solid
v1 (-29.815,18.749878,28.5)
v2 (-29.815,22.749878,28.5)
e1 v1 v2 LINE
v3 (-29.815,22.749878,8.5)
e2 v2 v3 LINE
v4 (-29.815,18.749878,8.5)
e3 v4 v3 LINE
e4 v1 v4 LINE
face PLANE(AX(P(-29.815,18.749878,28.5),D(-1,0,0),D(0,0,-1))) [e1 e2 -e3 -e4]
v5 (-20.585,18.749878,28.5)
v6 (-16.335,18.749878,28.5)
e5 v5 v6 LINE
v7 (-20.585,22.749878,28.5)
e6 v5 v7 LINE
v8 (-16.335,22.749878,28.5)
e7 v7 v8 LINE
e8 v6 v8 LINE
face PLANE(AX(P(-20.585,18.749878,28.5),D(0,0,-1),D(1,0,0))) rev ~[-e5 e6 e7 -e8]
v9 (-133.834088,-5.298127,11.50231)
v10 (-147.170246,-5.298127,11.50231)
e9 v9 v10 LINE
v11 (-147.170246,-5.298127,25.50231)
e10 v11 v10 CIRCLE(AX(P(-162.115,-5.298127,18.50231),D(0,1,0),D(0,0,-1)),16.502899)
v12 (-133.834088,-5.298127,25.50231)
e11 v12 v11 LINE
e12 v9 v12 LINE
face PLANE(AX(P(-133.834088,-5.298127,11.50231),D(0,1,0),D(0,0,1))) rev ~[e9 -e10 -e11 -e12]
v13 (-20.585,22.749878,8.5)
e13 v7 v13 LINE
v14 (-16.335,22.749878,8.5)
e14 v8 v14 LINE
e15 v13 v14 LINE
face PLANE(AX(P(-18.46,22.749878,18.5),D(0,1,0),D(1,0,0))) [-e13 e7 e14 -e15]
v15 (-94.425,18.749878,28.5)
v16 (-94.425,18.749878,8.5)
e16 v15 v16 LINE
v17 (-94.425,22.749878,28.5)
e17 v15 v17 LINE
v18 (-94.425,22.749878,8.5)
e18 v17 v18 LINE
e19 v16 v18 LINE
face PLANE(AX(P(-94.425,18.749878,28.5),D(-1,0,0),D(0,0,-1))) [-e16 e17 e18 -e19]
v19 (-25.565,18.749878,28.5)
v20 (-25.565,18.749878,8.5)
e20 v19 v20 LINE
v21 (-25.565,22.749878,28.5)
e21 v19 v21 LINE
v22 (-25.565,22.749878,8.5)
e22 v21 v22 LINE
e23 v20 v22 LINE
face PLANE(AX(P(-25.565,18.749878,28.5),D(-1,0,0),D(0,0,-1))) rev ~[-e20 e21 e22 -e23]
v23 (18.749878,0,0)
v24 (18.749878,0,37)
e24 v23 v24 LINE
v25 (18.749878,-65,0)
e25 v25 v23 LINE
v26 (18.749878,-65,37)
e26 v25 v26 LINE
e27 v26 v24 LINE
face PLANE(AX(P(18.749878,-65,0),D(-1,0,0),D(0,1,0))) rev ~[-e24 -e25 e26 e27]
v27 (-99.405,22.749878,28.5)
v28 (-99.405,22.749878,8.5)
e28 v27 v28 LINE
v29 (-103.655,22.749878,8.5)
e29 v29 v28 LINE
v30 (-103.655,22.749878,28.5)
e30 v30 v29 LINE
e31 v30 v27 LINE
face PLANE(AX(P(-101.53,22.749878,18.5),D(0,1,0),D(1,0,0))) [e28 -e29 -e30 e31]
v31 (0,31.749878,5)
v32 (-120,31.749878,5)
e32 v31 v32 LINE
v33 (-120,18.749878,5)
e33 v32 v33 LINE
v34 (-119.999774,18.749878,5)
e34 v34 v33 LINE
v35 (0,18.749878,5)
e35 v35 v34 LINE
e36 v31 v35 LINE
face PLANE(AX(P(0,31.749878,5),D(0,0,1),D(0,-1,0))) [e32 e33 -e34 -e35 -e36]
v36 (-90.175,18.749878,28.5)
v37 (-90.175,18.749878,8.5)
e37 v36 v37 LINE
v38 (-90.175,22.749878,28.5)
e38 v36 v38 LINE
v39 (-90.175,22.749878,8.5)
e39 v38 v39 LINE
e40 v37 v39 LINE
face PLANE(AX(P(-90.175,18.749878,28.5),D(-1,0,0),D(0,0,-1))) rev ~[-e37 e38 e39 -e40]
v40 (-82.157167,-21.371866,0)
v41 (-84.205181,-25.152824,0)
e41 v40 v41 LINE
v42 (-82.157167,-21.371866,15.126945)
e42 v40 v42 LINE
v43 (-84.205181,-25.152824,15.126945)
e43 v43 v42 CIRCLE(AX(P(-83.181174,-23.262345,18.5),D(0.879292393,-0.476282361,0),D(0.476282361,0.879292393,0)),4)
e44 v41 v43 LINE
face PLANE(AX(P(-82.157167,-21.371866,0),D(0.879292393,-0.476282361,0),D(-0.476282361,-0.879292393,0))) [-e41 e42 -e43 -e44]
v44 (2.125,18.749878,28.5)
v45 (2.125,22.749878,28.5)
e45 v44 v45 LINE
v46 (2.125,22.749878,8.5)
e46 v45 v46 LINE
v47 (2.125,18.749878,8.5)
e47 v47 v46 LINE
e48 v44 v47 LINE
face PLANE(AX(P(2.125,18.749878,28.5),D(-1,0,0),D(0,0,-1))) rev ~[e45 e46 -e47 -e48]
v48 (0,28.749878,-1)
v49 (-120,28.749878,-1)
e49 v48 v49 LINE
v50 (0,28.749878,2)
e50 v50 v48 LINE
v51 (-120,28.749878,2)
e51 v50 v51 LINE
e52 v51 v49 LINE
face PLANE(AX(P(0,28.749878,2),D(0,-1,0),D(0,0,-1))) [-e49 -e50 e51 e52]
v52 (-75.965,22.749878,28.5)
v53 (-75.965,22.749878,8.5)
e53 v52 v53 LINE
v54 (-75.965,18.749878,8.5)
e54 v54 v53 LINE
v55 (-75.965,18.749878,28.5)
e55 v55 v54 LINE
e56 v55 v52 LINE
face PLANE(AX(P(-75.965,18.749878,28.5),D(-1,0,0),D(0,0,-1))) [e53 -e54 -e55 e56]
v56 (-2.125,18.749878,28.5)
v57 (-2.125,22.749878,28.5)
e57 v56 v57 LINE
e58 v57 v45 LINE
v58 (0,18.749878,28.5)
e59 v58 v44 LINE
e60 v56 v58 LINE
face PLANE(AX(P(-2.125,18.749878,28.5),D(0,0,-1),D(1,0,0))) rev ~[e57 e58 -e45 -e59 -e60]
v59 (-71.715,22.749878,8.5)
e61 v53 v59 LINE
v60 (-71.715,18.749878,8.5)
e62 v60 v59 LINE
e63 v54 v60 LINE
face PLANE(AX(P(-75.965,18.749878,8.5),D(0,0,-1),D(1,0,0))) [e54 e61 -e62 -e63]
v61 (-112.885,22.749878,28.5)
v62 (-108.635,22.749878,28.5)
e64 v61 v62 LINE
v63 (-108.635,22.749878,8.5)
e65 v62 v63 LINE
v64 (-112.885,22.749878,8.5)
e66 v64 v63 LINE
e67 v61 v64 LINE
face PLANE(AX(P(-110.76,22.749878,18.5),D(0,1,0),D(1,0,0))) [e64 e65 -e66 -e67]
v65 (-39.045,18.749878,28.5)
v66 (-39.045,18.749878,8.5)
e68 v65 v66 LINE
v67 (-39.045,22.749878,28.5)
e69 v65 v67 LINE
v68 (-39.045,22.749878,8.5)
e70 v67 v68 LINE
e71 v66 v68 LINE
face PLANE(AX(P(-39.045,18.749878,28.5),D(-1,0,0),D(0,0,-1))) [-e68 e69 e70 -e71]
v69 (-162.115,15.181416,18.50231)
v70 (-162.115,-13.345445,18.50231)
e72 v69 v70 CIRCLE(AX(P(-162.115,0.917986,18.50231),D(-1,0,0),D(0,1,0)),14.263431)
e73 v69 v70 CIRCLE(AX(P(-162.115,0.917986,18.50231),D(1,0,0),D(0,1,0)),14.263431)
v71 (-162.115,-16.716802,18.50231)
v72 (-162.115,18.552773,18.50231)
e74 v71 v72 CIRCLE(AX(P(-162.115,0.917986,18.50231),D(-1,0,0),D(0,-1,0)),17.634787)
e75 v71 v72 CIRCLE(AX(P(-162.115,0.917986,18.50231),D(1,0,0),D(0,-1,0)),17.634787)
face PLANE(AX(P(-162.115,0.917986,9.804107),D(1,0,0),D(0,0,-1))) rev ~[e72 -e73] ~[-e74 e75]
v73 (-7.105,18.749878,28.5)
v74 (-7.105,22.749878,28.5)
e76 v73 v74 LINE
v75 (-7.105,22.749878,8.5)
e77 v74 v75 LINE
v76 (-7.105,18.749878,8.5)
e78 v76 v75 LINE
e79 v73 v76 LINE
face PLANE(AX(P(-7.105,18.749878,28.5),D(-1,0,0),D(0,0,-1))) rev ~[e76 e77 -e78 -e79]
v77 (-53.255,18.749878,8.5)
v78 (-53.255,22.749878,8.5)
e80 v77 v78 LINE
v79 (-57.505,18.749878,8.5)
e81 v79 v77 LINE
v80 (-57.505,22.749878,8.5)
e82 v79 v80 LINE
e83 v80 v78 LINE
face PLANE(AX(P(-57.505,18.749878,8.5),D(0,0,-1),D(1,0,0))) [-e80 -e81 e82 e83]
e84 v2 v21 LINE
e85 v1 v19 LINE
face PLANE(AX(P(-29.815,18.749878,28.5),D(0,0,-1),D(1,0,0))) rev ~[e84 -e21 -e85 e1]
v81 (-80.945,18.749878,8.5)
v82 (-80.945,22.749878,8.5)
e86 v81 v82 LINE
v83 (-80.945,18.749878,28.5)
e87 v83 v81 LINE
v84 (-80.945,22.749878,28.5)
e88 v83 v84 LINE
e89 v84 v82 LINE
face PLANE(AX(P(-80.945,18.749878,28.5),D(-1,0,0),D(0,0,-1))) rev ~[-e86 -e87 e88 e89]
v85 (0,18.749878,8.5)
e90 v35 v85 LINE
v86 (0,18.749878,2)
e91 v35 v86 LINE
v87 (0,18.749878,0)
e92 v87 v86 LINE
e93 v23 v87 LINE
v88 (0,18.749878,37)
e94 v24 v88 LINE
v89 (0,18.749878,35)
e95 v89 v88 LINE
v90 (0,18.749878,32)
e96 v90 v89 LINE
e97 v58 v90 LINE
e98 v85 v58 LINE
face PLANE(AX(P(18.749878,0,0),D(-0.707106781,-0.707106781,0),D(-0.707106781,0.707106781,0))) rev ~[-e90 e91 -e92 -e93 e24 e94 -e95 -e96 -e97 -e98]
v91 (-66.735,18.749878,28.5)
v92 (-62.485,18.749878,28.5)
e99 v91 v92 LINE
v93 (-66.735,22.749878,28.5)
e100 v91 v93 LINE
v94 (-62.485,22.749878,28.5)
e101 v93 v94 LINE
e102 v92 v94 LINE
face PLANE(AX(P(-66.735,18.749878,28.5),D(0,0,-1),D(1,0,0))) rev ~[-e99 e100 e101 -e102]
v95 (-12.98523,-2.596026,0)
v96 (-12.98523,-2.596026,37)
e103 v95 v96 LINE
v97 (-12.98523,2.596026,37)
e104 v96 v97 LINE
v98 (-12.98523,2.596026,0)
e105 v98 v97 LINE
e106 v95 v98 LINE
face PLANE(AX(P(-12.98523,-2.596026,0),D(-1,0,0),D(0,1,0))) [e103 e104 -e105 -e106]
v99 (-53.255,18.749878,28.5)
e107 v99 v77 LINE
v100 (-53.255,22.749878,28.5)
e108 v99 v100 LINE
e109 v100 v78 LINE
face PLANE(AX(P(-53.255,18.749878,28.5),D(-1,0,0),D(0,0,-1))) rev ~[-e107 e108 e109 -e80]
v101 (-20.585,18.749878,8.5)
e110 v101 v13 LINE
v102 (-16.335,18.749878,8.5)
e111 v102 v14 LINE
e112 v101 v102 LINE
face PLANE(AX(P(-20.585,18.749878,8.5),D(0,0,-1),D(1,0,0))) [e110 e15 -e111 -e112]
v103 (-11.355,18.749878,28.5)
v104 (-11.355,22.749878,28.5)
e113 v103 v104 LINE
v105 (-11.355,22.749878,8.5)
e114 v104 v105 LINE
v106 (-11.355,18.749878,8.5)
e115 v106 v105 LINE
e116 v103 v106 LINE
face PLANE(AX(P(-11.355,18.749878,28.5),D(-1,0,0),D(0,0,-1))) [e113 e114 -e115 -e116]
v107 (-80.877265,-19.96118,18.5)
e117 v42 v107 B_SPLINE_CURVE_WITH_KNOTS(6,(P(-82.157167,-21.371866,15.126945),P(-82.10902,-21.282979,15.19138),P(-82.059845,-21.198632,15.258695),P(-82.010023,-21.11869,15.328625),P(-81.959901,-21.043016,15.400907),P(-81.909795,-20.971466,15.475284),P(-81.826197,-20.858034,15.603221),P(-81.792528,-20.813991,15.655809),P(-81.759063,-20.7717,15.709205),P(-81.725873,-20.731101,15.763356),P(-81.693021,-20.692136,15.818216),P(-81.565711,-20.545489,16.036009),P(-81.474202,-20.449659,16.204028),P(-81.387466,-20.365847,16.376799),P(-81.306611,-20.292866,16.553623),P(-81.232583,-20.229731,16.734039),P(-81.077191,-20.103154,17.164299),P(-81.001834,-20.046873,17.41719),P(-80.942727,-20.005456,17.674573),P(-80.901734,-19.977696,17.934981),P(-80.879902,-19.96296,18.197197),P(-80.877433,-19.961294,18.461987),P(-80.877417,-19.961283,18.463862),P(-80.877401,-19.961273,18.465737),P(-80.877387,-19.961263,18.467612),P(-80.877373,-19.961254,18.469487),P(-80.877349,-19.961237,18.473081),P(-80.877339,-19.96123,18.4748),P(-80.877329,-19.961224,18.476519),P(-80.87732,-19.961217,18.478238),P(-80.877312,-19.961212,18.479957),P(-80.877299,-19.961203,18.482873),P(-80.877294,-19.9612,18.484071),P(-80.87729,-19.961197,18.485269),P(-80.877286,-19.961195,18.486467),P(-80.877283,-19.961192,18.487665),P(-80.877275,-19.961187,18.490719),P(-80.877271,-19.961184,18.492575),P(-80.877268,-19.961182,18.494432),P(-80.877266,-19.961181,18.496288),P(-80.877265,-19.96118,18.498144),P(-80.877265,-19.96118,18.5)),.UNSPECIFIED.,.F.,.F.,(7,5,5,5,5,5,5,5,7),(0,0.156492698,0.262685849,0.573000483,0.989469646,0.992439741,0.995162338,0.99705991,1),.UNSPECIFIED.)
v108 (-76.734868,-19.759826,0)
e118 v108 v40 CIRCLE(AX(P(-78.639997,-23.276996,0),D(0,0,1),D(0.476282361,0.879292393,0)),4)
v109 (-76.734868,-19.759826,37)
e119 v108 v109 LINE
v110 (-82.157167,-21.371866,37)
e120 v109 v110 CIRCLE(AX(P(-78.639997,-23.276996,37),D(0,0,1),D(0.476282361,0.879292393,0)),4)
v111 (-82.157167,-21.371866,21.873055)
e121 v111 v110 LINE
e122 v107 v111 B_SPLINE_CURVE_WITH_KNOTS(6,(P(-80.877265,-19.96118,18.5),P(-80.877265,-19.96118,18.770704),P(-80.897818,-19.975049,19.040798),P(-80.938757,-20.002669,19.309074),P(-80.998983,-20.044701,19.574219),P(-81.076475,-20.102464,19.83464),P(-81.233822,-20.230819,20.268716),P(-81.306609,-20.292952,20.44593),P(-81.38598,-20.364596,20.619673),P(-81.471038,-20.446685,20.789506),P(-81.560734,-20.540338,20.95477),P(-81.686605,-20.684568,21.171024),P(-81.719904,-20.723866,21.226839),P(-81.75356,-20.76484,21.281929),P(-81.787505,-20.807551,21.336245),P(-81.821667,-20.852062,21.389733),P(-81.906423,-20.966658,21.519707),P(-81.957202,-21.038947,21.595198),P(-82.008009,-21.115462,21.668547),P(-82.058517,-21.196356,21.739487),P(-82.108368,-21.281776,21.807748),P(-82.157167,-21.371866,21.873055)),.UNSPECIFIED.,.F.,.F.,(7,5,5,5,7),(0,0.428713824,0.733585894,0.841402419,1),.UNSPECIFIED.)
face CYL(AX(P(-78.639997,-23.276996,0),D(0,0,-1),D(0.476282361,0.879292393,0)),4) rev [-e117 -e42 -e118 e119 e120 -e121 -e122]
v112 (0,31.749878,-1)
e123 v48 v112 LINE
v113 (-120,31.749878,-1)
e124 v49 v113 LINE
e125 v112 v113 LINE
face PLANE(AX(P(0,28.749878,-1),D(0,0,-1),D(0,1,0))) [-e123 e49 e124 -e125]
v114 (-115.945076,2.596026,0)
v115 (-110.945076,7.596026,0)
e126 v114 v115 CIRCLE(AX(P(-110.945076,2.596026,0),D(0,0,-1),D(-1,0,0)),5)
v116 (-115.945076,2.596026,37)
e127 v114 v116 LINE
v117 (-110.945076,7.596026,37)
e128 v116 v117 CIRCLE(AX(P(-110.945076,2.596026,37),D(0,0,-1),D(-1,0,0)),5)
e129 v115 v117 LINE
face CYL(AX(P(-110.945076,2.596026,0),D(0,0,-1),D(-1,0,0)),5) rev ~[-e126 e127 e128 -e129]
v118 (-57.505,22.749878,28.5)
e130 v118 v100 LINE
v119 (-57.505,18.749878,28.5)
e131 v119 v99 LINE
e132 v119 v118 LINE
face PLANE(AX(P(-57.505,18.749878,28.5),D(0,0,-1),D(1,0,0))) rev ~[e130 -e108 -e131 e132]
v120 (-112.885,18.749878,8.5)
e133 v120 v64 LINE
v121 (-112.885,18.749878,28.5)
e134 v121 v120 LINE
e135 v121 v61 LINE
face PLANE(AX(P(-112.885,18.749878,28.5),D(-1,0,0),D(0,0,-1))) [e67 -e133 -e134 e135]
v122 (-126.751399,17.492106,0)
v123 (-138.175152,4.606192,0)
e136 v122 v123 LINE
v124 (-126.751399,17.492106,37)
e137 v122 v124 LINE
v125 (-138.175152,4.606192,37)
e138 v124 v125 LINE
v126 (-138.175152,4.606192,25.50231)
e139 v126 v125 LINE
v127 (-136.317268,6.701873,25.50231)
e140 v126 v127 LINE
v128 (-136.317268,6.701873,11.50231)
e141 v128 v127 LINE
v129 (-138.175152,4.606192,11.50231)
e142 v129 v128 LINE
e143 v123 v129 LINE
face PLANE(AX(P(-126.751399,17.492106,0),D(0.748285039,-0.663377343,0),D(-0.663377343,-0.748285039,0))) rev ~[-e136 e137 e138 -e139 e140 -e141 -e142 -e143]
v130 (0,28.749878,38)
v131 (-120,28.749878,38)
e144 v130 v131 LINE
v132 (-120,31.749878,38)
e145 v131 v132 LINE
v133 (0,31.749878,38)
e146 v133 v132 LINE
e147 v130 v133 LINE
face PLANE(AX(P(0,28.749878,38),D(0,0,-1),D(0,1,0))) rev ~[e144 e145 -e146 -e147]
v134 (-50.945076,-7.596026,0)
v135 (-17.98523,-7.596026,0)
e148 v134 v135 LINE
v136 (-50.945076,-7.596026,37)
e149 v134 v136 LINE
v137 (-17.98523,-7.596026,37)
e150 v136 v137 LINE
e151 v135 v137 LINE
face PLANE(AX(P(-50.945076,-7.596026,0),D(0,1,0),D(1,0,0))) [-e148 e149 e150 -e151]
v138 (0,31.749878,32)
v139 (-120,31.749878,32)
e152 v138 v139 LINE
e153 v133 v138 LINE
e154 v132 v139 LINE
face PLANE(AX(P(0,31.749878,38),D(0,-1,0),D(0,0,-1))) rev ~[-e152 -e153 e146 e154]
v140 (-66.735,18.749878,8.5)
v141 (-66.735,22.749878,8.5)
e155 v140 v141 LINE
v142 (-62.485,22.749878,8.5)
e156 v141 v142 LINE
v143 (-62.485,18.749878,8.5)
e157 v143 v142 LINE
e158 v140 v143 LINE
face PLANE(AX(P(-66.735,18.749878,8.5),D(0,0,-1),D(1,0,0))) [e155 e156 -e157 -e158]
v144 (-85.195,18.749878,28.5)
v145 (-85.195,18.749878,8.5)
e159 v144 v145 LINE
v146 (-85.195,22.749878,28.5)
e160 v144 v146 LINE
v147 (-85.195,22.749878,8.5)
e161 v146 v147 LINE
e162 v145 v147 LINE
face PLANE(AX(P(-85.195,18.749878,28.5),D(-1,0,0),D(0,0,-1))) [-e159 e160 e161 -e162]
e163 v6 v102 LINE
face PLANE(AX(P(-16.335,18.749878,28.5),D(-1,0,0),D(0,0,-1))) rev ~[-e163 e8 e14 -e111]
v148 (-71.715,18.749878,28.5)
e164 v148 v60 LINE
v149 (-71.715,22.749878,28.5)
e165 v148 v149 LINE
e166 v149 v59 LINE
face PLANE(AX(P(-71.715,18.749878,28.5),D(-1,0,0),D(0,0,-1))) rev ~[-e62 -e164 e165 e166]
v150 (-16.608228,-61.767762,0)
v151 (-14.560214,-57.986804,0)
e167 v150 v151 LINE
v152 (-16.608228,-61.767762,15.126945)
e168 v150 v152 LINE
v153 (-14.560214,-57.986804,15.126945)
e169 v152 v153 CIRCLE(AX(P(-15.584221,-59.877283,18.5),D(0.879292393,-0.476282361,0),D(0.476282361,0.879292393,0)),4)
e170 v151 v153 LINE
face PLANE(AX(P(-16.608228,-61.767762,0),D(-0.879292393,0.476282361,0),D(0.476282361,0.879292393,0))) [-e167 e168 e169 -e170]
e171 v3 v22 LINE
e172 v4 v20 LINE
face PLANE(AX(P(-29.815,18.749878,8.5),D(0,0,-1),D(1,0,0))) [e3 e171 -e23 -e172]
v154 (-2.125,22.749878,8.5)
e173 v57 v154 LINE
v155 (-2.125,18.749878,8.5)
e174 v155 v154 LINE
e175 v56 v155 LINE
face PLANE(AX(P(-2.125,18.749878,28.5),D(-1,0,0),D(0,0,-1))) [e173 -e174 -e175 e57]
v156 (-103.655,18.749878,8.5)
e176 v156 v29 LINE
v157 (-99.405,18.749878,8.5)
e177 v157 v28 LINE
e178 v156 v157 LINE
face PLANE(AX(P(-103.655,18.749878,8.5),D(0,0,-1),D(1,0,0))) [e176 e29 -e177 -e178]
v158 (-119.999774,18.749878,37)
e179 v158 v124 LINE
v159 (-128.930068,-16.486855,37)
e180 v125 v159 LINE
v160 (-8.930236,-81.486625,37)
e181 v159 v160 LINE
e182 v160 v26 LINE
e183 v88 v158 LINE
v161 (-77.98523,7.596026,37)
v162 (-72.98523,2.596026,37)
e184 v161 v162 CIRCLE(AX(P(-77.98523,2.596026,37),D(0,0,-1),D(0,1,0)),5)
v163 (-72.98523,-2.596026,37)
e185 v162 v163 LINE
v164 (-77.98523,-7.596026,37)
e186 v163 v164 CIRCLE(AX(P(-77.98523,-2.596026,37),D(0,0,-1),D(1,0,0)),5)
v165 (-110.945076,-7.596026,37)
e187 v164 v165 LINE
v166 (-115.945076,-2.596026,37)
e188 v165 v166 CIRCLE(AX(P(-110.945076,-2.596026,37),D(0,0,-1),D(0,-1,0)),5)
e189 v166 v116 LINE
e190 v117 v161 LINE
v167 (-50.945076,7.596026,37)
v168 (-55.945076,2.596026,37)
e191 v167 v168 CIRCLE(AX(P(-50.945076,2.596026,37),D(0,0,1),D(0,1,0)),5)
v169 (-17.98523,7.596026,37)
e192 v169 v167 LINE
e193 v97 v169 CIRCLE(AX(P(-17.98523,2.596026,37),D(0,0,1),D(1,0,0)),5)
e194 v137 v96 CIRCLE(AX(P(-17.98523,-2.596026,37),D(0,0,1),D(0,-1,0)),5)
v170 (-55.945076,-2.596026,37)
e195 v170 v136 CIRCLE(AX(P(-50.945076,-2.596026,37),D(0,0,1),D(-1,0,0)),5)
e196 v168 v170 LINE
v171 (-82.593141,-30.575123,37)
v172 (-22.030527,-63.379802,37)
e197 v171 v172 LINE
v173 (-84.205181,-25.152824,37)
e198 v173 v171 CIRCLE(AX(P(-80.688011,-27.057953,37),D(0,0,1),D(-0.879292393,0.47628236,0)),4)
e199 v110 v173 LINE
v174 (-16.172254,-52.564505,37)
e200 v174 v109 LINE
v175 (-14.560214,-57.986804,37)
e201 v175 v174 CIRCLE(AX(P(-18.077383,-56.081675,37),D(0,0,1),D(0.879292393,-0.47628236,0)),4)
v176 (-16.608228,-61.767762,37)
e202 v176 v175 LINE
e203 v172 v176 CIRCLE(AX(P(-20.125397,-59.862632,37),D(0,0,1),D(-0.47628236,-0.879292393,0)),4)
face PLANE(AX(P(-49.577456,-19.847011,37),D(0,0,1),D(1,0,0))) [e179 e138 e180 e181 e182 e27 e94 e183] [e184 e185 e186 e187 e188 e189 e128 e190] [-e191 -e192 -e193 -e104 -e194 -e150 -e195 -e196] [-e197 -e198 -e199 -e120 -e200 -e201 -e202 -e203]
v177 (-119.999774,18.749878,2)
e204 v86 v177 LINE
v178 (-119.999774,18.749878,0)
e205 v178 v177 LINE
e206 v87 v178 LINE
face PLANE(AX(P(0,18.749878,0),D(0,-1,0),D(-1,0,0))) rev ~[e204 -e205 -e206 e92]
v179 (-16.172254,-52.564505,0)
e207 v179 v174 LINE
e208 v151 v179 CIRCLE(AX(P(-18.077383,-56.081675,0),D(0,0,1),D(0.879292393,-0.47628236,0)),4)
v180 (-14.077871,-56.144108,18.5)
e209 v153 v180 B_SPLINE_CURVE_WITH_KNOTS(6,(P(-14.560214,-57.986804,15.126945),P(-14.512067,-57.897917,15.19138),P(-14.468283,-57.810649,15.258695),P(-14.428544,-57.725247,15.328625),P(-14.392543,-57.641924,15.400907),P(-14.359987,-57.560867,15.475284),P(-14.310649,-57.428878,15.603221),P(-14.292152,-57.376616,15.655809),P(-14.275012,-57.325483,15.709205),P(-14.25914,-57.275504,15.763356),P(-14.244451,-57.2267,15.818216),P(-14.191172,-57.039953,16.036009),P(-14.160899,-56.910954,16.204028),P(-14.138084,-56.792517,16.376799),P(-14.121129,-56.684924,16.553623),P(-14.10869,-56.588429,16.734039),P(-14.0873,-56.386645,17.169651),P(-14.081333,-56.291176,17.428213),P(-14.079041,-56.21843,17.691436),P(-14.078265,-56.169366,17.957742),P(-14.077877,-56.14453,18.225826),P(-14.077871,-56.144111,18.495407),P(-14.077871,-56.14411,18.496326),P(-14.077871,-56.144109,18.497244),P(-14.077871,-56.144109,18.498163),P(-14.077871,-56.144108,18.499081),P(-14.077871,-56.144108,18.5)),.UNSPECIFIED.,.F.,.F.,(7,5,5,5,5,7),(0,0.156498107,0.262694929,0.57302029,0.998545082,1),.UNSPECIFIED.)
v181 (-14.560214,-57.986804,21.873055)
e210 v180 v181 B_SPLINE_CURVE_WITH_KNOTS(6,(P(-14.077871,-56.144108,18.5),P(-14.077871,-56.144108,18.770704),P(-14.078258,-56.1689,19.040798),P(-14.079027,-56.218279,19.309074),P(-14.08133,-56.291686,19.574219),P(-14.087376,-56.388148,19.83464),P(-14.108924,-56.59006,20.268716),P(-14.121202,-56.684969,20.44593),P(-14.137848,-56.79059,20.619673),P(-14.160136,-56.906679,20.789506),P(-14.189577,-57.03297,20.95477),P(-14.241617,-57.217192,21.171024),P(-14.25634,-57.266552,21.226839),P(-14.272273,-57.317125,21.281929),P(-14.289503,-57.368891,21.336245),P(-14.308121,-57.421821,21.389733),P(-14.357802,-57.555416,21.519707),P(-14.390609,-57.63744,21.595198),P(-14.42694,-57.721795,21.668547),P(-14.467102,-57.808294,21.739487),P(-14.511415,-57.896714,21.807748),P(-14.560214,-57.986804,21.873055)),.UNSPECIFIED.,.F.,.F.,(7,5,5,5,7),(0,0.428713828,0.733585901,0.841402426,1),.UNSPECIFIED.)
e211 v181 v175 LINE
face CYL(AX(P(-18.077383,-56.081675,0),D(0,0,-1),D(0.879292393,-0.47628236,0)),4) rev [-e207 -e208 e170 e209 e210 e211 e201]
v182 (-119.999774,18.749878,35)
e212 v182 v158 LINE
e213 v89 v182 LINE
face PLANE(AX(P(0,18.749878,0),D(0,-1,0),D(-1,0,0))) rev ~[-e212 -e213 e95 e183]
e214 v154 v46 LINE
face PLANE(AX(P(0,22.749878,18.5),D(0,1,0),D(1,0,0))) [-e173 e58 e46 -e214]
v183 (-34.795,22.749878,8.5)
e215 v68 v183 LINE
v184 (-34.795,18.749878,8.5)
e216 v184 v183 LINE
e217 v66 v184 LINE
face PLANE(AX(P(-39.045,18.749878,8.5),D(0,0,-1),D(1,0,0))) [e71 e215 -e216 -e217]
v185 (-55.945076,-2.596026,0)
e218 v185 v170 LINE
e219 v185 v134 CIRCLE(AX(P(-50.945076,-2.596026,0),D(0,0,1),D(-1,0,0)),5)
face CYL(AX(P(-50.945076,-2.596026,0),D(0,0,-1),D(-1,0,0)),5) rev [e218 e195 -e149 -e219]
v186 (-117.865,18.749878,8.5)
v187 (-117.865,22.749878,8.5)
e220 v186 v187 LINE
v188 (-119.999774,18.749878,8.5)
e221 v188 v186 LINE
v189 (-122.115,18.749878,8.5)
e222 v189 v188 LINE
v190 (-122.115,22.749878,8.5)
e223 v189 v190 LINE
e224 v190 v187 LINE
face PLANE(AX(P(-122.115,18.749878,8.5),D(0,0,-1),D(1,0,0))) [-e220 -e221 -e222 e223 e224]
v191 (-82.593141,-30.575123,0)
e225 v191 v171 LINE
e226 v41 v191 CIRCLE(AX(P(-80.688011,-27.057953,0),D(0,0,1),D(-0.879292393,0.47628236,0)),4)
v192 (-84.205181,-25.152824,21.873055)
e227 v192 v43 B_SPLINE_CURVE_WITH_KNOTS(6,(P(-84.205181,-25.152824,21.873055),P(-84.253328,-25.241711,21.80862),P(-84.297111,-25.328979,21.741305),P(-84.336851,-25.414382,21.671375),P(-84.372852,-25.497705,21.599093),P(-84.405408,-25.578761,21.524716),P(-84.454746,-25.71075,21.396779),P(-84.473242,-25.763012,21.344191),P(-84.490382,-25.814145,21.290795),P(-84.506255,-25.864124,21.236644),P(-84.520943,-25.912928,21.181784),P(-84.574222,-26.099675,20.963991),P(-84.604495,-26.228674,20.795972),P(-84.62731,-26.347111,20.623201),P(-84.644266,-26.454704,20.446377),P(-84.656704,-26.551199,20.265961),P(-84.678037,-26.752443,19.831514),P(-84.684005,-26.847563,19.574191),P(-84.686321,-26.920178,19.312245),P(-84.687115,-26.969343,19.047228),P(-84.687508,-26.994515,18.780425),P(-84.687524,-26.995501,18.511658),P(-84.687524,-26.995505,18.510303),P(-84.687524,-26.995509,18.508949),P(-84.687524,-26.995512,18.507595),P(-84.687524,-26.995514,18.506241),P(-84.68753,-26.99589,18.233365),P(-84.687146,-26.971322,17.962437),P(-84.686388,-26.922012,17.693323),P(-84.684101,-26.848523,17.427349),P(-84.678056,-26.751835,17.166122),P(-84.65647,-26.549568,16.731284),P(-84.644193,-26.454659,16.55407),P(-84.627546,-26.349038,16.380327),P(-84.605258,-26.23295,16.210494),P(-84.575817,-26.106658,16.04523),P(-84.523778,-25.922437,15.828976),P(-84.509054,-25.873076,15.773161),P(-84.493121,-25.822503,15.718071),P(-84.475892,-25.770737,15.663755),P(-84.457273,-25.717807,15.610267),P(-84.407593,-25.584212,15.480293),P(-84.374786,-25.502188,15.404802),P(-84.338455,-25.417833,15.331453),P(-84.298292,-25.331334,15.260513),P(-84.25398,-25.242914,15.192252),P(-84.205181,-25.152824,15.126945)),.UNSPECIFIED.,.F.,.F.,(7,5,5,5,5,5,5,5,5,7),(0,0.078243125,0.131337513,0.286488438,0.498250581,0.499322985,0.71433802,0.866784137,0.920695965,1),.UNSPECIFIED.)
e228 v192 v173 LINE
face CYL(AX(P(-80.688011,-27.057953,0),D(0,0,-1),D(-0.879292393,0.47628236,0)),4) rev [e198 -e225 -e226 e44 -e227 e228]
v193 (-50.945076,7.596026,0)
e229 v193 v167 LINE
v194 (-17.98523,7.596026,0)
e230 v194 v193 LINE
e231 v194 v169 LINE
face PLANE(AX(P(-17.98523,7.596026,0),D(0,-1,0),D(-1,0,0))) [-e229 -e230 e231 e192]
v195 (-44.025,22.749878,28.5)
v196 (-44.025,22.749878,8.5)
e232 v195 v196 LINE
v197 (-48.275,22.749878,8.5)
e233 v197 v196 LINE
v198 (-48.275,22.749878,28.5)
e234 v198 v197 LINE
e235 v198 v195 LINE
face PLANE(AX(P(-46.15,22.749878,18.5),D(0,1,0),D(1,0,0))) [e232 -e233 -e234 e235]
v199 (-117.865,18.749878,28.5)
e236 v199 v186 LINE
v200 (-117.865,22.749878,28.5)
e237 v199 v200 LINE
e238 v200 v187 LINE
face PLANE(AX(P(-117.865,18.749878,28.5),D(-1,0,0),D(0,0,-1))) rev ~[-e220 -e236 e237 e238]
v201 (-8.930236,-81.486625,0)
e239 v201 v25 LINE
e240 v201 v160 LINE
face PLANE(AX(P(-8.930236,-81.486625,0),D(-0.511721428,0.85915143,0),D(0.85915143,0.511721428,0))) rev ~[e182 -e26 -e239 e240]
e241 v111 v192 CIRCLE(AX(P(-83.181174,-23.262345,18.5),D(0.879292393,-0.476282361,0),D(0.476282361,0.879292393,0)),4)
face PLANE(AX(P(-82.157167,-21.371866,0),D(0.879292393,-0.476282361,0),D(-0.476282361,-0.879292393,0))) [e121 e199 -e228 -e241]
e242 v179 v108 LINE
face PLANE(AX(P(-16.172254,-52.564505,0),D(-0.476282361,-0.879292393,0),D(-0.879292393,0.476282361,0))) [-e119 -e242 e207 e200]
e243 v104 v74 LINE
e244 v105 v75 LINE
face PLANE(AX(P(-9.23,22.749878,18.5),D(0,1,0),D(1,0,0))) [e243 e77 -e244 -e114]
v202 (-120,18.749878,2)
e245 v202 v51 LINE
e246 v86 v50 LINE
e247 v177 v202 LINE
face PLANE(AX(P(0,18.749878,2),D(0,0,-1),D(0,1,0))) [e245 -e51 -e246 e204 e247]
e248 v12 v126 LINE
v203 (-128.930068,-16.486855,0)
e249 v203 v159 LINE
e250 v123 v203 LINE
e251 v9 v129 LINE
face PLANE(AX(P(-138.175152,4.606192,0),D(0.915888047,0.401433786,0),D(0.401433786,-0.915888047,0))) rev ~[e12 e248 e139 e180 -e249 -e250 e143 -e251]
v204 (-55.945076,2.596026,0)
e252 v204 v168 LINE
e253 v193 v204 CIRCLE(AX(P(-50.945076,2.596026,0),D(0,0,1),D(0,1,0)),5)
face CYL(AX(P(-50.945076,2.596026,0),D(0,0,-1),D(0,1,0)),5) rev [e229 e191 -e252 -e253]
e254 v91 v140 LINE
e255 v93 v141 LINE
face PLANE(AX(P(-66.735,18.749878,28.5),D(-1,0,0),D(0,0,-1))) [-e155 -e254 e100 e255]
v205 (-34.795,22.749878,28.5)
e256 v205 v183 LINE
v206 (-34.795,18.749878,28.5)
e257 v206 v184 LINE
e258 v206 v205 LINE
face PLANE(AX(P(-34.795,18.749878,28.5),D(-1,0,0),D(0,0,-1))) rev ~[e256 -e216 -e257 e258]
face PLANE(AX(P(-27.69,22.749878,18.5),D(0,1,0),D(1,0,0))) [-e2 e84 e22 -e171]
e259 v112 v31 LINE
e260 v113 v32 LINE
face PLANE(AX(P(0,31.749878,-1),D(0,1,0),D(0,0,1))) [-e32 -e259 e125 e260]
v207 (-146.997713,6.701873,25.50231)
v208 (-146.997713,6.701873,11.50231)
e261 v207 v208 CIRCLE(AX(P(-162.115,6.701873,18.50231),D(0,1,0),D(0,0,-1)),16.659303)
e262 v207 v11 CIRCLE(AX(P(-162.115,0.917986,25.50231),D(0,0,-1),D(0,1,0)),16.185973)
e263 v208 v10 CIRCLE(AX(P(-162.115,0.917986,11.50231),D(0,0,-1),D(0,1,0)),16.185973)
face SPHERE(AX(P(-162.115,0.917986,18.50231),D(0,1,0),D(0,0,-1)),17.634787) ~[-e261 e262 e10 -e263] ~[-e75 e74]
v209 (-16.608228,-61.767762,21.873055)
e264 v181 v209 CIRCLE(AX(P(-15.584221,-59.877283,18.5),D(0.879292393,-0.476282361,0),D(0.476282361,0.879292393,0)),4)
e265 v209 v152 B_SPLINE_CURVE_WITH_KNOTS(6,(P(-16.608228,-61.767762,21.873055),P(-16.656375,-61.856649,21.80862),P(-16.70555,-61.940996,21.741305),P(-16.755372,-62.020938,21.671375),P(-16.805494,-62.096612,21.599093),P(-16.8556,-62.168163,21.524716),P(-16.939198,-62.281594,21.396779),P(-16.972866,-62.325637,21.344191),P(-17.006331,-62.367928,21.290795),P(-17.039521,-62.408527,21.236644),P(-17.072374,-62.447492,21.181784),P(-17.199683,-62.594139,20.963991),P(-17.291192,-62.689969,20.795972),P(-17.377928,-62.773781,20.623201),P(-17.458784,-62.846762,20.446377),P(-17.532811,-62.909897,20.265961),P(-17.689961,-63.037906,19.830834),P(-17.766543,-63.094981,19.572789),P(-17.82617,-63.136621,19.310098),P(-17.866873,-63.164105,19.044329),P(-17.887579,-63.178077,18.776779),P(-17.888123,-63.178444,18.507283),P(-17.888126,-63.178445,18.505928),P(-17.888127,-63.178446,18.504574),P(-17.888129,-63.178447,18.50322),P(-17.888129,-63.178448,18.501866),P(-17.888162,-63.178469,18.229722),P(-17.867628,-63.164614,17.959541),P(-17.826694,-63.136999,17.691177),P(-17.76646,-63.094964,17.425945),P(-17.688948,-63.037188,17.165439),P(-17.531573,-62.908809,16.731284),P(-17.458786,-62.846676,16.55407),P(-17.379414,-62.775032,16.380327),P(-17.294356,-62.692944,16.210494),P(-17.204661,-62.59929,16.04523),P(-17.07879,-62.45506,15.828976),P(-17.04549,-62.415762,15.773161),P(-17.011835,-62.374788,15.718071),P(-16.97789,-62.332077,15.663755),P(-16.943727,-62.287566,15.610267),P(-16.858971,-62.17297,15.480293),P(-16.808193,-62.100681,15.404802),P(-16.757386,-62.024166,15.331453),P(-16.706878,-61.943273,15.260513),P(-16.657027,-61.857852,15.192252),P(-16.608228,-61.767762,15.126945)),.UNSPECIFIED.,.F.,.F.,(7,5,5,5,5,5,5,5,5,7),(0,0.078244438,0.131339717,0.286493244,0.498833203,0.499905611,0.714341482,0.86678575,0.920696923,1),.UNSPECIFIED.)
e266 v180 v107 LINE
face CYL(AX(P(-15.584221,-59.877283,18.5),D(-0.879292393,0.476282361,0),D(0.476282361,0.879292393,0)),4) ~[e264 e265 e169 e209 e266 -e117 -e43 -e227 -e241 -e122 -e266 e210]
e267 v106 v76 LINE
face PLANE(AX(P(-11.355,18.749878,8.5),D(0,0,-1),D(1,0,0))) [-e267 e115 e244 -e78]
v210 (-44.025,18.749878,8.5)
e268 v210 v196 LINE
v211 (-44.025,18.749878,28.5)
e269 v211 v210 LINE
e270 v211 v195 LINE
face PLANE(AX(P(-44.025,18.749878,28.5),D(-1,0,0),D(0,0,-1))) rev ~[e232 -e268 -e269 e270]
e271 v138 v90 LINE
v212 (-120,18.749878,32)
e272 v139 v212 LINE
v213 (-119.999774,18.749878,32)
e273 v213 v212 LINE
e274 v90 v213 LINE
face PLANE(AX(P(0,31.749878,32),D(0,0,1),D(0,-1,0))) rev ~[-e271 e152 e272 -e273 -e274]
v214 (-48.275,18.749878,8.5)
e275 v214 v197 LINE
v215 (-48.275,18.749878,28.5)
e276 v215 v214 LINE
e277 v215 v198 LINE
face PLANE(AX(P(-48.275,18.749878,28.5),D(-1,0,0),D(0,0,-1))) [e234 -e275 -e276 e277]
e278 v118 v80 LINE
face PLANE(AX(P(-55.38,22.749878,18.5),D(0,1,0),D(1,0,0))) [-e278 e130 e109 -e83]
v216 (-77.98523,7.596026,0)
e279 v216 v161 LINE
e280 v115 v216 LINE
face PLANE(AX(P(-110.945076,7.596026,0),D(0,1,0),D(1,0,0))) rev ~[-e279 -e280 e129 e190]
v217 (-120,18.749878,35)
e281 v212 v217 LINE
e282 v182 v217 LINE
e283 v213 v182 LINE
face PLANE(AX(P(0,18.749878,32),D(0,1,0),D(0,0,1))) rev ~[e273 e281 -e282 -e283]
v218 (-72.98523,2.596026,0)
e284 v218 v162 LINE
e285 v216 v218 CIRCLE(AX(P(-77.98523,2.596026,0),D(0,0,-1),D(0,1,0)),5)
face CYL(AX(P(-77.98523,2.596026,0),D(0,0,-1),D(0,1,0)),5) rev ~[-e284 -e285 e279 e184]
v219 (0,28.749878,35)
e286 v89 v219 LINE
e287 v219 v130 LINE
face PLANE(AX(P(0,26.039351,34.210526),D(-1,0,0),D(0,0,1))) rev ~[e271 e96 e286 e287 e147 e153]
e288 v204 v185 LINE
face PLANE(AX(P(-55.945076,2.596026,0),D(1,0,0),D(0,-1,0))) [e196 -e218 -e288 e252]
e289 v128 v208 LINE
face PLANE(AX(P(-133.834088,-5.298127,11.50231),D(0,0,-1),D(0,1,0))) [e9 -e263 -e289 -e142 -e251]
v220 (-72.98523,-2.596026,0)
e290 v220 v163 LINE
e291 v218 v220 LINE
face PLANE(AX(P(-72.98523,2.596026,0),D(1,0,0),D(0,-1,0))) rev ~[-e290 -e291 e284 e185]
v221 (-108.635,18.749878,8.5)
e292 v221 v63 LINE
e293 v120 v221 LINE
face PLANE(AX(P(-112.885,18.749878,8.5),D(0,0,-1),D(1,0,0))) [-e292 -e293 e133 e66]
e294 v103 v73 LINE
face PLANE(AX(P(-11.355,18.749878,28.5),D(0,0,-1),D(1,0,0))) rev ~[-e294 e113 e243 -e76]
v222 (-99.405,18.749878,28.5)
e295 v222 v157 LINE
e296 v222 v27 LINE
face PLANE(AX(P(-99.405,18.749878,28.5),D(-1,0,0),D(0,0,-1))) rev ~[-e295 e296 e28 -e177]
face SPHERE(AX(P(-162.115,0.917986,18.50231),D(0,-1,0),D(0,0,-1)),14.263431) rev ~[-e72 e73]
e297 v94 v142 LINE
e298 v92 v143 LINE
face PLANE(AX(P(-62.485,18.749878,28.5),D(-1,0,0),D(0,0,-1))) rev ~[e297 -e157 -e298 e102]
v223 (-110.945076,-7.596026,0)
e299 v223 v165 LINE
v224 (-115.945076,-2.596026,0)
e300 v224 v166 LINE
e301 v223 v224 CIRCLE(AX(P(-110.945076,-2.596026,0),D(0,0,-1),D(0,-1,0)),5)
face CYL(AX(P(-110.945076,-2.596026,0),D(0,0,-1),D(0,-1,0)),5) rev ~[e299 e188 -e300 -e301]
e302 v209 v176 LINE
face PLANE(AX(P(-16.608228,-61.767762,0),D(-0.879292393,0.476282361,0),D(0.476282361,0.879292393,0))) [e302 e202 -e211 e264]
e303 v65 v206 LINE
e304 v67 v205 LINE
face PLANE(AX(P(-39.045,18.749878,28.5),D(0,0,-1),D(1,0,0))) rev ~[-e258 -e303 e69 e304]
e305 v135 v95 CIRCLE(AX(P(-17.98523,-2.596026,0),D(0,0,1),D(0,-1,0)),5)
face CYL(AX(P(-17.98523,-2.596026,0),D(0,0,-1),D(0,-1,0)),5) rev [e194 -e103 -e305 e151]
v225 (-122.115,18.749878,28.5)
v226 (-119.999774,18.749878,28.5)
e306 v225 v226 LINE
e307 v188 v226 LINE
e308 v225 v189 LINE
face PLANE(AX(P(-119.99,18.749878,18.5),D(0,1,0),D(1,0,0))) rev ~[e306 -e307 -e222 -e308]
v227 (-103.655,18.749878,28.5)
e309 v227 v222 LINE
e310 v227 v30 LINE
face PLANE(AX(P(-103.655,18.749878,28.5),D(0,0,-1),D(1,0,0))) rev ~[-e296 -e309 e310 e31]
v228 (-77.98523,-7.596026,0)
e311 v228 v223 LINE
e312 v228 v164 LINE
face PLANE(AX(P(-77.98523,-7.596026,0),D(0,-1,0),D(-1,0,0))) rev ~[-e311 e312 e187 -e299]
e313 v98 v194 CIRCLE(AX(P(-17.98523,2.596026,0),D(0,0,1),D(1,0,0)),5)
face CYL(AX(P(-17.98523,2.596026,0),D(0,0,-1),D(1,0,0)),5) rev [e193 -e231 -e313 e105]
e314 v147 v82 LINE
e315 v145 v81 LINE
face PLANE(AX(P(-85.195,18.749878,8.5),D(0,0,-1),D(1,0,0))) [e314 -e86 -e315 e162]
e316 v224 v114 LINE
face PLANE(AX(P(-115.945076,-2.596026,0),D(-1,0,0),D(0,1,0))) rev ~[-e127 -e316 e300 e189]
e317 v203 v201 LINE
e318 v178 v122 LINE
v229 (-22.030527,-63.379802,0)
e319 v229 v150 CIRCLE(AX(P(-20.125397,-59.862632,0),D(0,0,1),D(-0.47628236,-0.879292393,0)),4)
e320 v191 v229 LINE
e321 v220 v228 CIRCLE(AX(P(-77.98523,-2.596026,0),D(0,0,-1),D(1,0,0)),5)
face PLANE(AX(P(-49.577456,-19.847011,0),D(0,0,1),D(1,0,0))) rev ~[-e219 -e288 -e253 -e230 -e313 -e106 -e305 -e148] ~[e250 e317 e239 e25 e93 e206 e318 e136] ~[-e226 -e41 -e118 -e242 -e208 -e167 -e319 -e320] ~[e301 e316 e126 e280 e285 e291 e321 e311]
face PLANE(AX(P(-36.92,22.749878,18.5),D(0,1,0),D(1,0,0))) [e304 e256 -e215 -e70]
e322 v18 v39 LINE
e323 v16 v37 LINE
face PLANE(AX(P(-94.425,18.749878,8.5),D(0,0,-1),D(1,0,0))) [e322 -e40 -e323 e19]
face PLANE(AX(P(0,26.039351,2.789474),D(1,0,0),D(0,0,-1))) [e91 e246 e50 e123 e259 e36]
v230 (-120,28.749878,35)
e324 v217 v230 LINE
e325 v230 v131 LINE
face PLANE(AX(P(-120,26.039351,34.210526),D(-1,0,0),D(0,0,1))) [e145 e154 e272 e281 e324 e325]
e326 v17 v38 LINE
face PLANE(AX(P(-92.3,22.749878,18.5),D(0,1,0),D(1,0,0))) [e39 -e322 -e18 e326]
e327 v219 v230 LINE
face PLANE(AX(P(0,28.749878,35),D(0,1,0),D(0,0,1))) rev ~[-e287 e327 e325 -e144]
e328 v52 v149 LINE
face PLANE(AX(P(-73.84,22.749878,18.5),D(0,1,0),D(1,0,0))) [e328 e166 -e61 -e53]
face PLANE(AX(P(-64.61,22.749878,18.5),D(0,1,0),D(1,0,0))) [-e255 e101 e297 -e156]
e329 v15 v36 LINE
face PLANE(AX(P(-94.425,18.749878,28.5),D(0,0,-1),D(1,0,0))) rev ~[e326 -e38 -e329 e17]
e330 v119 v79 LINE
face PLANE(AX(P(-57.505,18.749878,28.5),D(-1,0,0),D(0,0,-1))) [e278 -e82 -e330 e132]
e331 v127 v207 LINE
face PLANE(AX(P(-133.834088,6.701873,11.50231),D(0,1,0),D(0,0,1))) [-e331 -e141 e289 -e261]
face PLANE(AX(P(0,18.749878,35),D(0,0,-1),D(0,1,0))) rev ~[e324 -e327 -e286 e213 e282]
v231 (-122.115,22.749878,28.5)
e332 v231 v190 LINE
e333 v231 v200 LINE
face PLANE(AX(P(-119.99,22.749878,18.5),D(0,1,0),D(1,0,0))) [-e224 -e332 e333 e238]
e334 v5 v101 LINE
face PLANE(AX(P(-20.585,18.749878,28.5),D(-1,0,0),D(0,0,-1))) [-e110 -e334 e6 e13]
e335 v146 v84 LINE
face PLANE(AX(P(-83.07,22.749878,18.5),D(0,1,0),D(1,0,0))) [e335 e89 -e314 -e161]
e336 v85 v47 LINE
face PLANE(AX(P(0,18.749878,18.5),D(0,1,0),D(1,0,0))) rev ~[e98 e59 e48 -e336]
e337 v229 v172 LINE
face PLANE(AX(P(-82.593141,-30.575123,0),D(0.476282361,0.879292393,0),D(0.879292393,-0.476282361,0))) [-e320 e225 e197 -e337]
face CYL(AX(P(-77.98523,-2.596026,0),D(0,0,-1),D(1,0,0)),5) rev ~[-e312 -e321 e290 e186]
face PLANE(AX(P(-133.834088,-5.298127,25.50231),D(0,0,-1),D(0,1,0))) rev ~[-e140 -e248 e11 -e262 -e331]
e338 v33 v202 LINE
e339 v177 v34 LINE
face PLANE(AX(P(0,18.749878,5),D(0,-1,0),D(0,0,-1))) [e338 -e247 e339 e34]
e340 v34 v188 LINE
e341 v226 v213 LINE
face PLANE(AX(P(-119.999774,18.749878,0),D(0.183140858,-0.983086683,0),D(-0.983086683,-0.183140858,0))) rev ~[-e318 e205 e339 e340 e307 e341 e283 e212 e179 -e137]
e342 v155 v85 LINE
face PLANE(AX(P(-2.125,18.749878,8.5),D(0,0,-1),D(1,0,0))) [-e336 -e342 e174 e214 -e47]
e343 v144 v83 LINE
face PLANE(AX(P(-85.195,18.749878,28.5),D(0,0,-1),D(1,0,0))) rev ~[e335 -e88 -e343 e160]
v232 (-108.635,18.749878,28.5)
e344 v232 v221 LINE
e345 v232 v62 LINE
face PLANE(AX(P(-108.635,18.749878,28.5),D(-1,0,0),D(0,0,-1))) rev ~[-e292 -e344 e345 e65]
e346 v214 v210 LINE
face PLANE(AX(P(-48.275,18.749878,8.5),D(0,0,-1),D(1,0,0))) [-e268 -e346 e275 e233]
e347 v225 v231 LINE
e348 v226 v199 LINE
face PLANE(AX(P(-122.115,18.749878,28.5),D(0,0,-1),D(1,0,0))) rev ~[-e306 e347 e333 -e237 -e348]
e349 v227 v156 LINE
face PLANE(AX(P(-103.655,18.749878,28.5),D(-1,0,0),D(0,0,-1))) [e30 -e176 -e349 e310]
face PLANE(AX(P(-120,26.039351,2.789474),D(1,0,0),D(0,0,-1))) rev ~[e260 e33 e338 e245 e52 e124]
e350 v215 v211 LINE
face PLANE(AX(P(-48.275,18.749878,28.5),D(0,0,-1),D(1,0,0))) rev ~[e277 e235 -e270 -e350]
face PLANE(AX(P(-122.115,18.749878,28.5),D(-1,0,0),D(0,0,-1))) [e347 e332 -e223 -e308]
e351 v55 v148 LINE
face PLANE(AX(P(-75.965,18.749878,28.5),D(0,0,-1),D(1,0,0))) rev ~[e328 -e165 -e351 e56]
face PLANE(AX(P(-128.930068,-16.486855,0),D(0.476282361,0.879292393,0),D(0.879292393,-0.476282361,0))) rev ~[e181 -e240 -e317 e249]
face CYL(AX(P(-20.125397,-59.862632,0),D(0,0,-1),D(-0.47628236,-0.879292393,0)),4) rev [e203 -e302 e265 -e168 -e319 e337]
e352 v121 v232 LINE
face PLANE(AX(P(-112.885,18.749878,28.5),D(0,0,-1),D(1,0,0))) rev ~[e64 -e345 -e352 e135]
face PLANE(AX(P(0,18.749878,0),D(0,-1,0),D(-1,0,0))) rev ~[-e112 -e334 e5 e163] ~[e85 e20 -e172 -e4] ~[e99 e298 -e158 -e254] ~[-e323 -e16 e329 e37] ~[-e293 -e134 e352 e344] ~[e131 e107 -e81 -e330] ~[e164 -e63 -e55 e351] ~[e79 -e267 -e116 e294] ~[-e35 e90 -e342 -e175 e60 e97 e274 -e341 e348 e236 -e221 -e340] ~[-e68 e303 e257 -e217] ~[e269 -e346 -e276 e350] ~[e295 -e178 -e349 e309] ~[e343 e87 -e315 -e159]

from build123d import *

# Parameters (mm, degrees)
BOSS_EXTRUDE1_DEPTH     = 37
CUT_EXTRUDE1_DEPTH      = 37
CUT_EXTRUDE1_DEPTH_BACK = 1
SKETCH13_W              = 4.25
SKETCH13_H              = 20
BOSS_EXTRUDE3_DEPTH     = 4
REVOLVE4_ANGLE          = 180
BOSS_EXTRUDE5_START     = 1.719088
SKETCH24_W              = 14
SKETCH24_H              = 12
BOSS_EXTRUDE5_DEPTH     = 13.336158
BOSS_EXTRUDE6_DEPTH     = 120
CUT_EXTRUDE2_DEPTH      = 37


with BuildPart() as part:
    # Sketch8 → Boss-Extrude1 (new body)
    with BuildSketch(Plane.XY):
        Polygon((0, 18.749877704), (-119.999774223, 18.749877704), (-126.751399414, 17.492106186), (-138.175152238, 4.606192282), (-128.930068484, -16.486854671), (-8.930236022, -81.486624843), (18.749877704, -64.999999997), (18.749877704, 0), align=None)
    extrude(amount=BOSS_EXTRUDE1_DEPTH)

    # Sketch10 → Cut-Extrude1 (cut, two sides)
    with BuildSketch(Plane.XY) as cut_extrude1_sk:
        with BuildLine():
            Line((-50.945075891, -7.596026142), (-17.985230256, -7.596026142))
            ThreePointArc((-17.985230256, -7.596026142), (-14.44969635, -6.131560048), (-12.985230256, -2.596026142))
            Line((-12.985230256, -2.596026142), (-12.985230256, 2.596026142))
            ThreePointArc((-12.985230256, 2.596026142), (-14.44969635, 6.131560048), (-17.985230256, 7.596026142))
            Line((-17.985230256, 7.596026142), (-50.945075891, 7.596026142))
            ThreePointArc((-50.945075891, 7.596026142), (-54.480609797, 6.131560048), (-55.945075891, 2.596026142))
            Line((-55.945075891, 2.596026142), (-55.945075891, -2.596026142))
            ThreePointArc((-55.945075891, -2.596026142), (-54.480609797, -6.131560048), (-50.945075891, -7.596026142))
        make_face()
        with BuildLine():
            Line((-110.945075891, 7.596026142), (-77.985230256, 7.596026142))
            ThreePointArc((-77.985230256, 7.596026142), (-74.44969635, 6.131560048), (-72.985230256, 2.596026142))
            Line((-72.985230256, 2.596026142), (-72.985230256, -2.596026142))
            ThreePointArc((-72.985230256, -2.596026142), (-74.44969635, -6.131560048), (-77.985230256, -7.596026142))
            Line((-77.985230256, -7.596026142), (-110.945075891, -7.596026142))
            ThreePointArc((-110.945075891, -7.596026142), (-114.480609797, -6.131560048), (-115.945075891, -2.596026142))
            Line((-115.945075891, -2.596026142), (-115.945075891, 2.596026142))
            ThreePointArc((-115.945075891, 2.596026142), (-114.480609797, 6.131560048), (-110.945075891, 7.596026142))
        make_face()
    extrude(amount=CUT_EXTRUDE1_DEPTH, mode=Mode.SUBTRACT)
    extrude(cut_extrude1_sk.sketch, amount=-CUT_EXTRUDE1_DEPTH_BACK, mode=Mode.SUBTRACT)

    # Sketch13 → Boss-Extrude3 (add)
    with BuildSketch(Plane(origin=(0, 18.749877704, 0), x_dir=(1, 0, 0), z_dir=(0, 1, 0))):
        with Locations((0, -18.5)):
            Rectangle(SKETCH13_W, SKETCH13_H)
        with Locations((-9.23, -18.5)):
            Rectangle(SKETCH13_W, SKETCH13_H)
        with Locations((-18.46, -18.5)):
            Rectangle(SKETCH13_W, SKETCH13_H)
        with Locations((-27.69, -18.5)):
            Rectangle(SKETCH13_W, SKETCH13_H)
        with Locations((-36.92, -18.5)):
            Rectangle(SKETCH13_W, SKETCH13_H)
        with Locations((-46.15, -18.5)):
            Rectangle(SKETCH13_W, SKETCH13_H)
        with Locations((-55.38, -18.5)):
            Rectangle(SKETCH13_W, SKETCH13_H)
        with Locations((-64.61, -18.5)):
            Rectangle(SKETCH13_W, SKETCH13_H)
        with Locations((-73.84, -18.5)):
            Rectangle(SKETCH13_W, SKETCH13_H)
        with Locations((-83.07, -18.5)):
            Rectangle(SKETCH13_W, SKETCH13_H)
        with Locations((-92.3, -18.5)):
            Rectangle(SKETCH13_W, SKETCH13_H)
        with Locations((-101.53, -18.5)):
            Rectangle(SKETCH13_W, SKETCH13_H)
        with Locations((-110.76, -18.5)):
            Rectangle(SKETCH13_W, SKETCH13_H)
        with Locations((-119.99, -18.5)):
            Rectangle(SKETCH13_W, SKETCH13_H)
    extrude(amount=BOSS_EXTRUDE3_DEPTH)



with BuildPart() as body_2:
    # Sketch23 → Revolve4 (revolve)
    with BuildSketch(Plane.ZY.offset(162.115)):
        with BuildLine():
            Line((18.502309671, 18.552772626), (18.502309671, 15.181416266))
            ThreePointArc((18.502309671, 15.181416266), (4.238878914, 0.917985509), (18.502309671, -13.345445248))
            Line((18.502309671, -13.345445248), (18.502309671, -16.716801609))
            ThreePointArc((18.502309671, -16.716801609), (0.867522554, 0.917985509), (18.502309671, 18.552772626))
        make_face()
    revolve(axis=Axis((-162.115, 19.719780597, 18.502309671), (0, -1, 0)), revolution_arc=REVOLVE4_ANGLE)


with BuildPart() as part_1:
    add(part.part)

    add(body_2.part)  # Boss-Extrude5 merges body 2
    # Sketch24 → Boss-Extrude5 (add)
    with BuildSketch(Plane.ZY.offset(132.115).offset(BOSS_EXTRUDE5_START)):
        with Locations((18.502309671, 0.701872922)):
            Rectangle(SKETCH24_W, SKETCH24_H)
    extrude(amount=BOSS_EXTRUDE5_DEPTH)

    # Sketch25 → Boss-Extrude6 (add)
    with BuildSketch(Plane(origin=(0, 0, 0), x_dir=(0, 0, -1), z_dir=(1, 0, 0))):
        Polygon((-32, 31.749877704), (-32, 18.749877704), (-35, 18.749877704), (-35, 28.749877704), (-38, 28.749877704), (-38, 31.749877704), align=None)
        Polygon((1, 31.749877704), (-5, 31.749877704), (-5, 18.749877704), (-2, 18.749877704), (-2, 28.749877704), (1, 28.749877704), align=None)
    extrude(amount=-BOSS_EXTRUDE6_DEPTH)

    # Sketch26 → Cut-Extrude2 (cut)
    with BuildSketch(Plane.XY):
        with BuildLine():
            Line((-82.157166646, -21.371866468), (-84.205180797, -25.15282376))
            ThreePointArc((-84.205180797, -25.15282376), (-84.522155627, -28.19783771), (-82.593140666, -30.575122775))
            Line((-82.593140666, -30.575122775), (-22.030526844, -63.379801738))
            ThreePointArc((-22.030526844, -63.379801738), (-18.985512893, -63.696776568), (-16.608227828, -61.767761607))
            Line((-16.608227828, -61.767761607), (-14.560213677, -57.986804316))
            ThreePointArc((-14.560213677, -57.986804316), (-14.243238847, -54.941790365), (-16.172253808, -52.5645053))
            Line((-16.172253808, -52.5645053), (-76.73486763, -19.759826338))
            ThreePointArc((-76.73486763, -19.759826338), (-79.779881581, -19.442851507), (-82.157166646, -21.371866468))
        make_face()
    extrude(amount=CUT_EXTRUDE2_DEPTH, mode=Mode.SUBTRACT)

    # Sketch27 → Revolve-Thin1 (revolve)
    with BuildSketch(Plane.XY.offset(18.5)):
        Polygon((-83.181173721, -23.262345114), (-15.584220753, -59.877282961), (-13.67909131, -56.360113388), (-81.276044279, -19.745175541), align=None)
    revolve(axis=Axis((-83.181173721, -23.262345114, 18.5), (0.879292393, -0.476282361, 0)))


solid = part_1.part
